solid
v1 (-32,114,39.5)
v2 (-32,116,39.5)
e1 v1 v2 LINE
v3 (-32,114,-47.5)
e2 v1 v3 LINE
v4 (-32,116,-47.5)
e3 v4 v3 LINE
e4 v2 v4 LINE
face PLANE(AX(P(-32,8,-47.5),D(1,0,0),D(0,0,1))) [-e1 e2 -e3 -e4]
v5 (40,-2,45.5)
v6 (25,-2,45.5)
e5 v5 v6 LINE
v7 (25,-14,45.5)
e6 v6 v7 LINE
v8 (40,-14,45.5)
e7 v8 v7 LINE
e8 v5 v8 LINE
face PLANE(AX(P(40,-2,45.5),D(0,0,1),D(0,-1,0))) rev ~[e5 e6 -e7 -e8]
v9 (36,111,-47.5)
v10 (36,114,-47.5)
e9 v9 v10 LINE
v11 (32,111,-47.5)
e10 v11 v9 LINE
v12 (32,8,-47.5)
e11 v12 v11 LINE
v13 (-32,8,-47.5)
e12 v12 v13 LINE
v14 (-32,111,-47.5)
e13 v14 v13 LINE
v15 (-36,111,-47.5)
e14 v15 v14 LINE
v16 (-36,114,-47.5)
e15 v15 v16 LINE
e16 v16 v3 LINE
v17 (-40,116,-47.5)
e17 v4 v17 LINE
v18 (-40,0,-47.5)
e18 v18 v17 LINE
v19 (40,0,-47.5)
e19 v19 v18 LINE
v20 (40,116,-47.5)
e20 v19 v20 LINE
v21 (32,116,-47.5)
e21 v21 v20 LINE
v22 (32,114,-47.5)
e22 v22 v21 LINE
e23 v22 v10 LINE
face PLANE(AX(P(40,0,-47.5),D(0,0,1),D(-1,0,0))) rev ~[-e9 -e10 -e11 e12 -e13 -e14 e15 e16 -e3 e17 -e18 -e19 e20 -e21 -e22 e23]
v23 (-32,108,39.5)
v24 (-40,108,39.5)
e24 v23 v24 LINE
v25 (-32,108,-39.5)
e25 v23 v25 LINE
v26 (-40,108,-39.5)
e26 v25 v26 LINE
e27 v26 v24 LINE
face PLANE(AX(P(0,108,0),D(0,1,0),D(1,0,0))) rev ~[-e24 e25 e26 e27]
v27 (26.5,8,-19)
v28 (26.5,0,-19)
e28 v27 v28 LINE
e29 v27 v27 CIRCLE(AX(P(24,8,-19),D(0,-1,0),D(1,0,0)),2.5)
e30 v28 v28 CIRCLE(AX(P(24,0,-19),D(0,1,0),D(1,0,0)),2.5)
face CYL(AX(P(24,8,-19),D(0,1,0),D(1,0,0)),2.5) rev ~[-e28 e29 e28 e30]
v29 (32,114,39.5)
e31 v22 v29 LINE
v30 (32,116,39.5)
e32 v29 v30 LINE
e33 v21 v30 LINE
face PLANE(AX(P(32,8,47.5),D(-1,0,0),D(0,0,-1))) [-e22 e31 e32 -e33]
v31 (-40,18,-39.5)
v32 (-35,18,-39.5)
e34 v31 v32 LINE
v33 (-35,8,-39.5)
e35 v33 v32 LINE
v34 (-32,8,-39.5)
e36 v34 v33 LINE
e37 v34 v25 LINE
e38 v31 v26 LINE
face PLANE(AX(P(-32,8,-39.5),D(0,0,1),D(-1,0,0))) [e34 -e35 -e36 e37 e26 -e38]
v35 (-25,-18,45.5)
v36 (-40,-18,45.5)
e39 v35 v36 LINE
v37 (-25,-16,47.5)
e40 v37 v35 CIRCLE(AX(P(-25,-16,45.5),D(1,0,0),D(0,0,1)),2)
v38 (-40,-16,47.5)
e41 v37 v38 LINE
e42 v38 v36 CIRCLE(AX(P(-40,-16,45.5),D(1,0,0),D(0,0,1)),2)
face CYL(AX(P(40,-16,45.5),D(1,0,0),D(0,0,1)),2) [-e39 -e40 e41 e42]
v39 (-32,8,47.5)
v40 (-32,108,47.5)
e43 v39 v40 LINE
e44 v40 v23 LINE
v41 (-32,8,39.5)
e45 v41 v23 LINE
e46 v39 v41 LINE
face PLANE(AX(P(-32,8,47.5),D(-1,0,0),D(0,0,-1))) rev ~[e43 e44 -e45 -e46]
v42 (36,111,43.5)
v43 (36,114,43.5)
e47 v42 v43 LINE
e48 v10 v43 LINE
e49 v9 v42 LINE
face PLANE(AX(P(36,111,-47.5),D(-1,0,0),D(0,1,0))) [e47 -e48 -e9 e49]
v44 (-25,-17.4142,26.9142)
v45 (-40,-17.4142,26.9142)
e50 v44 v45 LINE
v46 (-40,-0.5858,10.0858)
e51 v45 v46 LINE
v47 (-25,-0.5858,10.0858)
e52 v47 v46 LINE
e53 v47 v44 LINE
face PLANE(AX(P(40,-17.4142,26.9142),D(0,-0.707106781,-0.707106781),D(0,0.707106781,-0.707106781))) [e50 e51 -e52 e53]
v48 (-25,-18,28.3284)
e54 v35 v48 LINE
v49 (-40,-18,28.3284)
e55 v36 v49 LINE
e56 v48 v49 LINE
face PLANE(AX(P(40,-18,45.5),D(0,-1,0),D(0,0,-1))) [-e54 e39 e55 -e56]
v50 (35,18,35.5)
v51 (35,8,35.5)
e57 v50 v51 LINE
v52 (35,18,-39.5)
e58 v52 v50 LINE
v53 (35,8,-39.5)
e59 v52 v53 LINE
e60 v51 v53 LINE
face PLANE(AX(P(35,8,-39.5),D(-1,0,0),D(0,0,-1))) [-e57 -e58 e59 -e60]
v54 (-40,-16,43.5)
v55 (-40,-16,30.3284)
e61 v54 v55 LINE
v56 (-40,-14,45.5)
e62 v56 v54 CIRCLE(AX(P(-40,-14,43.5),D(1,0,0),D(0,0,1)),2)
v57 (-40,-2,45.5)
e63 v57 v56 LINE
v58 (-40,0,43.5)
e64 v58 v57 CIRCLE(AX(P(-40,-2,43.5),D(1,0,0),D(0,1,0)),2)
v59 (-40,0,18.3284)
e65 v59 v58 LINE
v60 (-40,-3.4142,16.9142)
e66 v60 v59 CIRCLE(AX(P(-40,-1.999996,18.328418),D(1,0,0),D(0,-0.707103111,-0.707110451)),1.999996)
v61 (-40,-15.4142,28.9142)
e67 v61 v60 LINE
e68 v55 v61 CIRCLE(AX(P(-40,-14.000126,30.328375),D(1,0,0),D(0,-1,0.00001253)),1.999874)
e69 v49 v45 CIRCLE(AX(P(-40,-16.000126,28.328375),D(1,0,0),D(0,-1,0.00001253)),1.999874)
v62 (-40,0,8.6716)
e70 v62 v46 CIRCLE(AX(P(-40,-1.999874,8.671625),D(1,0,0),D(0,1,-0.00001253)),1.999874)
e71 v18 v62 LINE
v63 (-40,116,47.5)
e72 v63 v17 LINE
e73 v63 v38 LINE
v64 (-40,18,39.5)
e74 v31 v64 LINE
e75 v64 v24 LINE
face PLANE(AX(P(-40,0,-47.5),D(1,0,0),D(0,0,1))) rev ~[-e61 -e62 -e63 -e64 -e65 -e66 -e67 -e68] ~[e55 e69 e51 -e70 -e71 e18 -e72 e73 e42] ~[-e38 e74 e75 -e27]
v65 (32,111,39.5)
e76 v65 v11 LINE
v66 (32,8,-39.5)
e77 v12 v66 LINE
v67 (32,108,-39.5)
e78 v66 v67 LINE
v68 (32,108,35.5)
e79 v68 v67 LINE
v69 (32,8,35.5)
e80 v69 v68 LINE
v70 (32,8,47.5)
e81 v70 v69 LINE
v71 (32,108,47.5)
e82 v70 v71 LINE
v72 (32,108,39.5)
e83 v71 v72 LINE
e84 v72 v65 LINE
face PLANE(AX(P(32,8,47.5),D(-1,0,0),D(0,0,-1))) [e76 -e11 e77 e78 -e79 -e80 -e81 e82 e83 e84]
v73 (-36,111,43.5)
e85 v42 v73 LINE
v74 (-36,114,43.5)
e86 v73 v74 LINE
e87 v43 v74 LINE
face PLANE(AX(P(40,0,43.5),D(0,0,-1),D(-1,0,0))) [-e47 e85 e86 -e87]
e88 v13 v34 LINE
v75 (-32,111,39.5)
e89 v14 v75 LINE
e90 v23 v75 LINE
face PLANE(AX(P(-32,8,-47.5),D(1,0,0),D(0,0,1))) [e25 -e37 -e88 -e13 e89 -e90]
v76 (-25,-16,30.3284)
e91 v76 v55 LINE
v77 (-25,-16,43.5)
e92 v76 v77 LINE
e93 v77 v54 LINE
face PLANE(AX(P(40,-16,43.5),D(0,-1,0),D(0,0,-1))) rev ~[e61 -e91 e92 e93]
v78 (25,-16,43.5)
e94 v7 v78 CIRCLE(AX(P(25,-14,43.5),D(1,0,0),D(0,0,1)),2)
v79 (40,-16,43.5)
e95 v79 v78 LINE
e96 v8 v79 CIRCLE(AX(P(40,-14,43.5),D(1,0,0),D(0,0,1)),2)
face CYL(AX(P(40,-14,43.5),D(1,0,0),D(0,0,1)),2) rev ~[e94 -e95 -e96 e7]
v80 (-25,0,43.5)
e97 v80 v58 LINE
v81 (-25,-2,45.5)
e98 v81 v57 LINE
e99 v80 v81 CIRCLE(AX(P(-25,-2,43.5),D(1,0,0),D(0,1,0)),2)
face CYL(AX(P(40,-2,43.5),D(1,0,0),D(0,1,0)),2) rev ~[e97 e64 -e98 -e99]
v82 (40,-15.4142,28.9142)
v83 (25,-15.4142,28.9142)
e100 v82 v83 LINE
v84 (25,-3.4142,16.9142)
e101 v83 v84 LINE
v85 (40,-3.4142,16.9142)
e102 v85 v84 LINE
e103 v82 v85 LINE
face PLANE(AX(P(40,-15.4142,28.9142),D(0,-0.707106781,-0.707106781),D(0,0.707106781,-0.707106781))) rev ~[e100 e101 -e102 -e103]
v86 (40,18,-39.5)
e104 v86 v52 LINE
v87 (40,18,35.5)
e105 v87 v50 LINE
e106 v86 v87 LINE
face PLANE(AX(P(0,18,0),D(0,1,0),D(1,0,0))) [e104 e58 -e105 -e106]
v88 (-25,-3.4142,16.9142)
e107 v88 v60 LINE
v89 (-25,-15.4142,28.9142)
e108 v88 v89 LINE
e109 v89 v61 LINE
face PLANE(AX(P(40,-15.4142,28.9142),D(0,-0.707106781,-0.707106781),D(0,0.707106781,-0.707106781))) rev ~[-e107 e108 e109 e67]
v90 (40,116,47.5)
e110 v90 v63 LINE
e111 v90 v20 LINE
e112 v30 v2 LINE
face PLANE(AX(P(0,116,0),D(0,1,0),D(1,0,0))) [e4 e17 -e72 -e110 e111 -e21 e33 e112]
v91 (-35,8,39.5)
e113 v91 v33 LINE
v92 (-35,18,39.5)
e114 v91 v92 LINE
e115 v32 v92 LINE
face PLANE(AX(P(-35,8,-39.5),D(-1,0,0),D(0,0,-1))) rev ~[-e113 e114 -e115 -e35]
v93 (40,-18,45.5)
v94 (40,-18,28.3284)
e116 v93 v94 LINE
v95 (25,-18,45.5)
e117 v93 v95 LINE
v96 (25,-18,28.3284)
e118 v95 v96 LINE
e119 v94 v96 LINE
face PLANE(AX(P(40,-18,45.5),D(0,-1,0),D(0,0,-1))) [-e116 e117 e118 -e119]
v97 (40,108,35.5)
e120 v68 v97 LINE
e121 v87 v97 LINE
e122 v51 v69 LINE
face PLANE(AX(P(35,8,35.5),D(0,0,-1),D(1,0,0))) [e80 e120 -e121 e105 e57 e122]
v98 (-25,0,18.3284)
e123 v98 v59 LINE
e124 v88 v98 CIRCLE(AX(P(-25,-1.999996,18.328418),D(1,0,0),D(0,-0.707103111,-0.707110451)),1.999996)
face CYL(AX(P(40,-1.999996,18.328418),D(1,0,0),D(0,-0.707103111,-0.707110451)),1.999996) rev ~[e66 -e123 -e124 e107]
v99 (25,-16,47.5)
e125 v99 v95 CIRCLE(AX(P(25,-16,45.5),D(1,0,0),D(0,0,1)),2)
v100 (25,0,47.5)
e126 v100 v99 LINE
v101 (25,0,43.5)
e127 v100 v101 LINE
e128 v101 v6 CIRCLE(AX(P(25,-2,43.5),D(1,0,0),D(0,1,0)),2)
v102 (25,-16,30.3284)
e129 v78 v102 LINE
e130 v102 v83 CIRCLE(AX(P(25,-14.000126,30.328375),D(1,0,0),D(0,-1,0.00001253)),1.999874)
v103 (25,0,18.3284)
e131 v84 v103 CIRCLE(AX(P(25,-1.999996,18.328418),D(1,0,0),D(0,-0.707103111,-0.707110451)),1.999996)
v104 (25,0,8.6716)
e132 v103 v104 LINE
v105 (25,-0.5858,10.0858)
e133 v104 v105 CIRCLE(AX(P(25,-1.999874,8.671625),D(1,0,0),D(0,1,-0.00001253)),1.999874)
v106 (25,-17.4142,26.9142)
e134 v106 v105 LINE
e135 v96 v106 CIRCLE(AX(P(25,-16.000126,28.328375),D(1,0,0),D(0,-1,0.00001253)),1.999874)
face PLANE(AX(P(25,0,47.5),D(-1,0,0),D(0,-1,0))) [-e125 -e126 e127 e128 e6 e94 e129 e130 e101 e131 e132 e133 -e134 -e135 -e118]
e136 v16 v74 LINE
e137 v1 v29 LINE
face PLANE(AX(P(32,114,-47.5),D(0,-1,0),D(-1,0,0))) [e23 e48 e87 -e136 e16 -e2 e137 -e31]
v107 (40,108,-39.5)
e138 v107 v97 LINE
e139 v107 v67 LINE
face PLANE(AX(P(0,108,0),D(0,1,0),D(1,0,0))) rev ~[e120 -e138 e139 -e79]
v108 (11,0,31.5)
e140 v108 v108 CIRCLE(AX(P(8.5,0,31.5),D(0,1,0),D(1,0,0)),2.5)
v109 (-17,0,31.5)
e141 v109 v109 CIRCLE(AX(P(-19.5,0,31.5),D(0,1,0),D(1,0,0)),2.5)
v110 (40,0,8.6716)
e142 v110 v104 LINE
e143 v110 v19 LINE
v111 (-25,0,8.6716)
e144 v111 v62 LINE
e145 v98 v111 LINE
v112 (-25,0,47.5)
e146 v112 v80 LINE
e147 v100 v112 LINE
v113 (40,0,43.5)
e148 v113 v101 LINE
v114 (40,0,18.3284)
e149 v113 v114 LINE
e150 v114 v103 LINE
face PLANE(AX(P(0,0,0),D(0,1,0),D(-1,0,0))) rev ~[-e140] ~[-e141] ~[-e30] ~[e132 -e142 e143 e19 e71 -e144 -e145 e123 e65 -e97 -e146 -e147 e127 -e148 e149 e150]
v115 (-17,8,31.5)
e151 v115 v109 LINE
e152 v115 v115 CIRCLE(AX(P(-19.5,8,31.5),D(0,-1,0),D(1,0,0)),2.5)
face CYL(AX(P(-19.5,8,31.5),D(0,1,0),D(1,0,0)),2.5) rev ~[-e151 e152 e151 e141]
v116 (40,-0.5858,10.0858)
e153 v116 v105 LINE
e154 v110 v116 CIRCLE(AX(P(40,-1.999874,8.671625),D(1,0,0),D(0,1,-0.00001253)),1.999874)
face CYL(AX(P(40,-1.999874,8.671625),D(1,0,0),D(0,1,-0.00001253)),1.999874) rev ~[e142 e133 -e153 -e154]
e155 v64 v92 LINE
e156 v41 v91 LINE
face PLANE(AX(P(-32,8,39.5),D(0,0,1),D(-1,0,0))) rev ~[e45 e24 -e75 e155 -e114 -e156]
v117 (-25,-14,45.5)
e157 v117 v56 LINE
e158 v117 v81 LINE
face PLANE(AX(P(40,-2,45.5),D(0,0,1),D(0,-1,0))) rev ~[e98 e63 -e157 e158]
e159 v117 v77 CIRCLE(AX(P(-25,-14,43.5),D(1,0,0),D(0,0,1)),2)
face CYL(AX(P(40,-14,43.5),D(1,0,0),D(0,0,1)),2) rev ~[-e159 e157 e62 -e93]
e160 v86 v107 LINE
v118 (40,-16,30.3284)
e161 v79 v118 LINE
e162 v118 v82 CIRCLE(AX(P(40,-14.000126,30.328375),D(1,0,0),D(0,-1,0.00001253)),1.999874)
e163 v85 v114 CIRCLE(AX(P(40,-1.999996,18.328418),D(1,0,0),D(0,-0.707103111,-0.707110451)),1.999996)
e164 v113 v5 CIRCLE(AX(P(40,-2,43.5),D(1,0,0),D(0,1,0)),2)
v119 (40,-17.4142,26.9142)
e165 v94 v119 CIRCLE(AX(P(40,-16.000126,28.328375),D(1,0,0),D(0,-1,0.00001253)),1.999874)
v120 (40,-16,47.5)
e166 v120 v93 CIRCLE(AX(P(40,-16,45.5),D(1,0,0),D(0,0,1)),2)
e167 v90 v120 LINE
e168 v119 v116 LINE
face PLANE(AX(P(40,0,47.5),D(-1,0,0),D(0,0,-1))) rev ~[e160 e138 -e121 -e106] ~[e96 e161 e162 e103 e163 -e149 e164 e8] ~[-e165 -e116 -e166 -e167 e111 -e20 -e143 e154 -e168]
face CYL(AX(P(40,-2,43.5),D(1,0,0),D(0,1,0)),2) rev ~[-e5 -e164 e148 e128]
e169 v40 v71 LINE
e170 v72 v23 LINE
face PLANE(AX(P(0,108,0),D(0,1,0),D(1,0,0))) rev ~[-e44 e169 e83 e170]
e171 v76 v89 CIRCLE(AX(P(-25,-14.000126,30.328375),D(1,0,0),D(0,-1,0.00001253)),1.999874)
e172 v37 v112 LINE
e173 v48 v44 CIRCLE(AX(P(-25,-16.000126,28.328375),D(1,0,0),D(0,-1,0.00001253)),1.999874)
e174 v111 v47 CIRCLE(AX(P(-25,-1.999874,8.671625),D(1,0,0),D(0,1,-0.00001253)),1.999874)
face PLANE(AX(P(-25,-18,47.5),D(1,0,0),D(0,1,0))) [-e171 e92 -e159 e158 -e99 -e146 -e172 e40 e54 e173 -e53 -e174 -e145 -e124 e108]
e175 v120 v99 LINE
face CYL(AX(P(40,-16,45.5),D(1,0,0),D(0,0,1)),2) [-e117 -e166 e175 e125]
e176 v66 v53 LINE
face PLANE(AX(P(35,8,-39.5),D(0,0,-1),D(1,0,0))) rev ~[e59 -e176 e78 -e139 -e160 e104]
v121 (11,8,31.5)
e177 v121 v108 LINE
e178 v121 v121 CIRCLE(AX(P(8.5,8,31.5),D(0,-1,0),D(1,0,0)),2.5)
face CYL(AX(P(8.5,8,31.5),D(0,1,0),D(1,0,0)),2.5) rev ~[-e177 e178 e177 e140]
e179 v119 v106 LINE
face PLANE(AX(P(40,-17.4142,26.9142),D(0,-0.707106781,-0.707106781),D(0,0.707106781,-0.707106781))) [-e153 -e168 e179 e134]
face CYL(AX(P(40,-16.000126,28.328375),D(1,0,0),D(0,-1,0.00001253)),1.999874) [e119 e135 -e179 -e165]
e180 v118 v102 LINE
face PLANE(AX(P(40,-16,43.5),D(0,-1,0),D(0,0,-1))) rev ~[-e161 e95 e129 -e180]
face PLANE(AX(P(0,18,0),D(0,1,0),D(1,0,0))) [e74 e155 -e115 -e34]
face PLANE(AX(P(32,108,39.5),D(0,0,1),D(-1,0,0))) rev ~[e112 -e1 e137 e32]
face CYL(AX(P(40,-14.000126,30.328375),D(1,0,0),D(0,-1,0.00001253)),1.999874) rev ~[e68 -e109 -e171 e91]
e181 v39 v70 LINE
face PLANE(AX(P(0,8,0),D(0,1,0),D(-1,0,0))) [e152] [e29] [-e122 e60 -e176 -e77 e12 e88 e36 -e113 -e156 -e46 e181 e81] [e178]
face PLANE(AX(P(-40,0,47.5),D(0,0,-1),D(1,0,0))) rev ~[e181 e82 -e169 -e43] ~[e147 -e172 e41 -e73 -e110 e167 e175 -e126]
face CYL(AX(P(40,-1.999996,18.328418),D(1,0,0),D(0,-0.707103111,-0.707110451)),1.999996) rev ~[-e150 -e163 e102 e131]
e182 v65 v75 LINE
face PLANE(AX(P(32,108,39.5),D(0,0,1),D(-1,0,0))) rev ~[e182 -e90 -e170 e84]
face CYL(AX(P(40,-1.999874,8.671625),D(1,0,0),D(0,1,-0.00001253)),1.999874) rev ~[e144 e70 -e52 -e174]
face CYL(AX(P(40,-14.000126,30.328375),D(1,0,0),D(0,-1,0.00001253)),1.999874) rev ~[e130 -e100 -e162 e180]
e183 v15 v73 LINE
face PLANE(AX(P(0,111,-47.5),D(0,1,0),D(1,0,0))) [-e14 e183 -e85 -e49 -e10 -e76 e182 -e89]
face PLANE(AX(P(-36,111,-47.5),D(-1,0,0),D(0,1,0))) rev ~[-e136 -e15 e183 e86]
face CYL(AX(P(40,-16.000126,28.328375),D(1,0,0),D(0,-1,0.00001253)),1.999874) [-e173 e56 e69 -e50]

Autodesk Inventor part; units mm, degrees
ref_plane "YZ Plane" through (0, 0, 0) normal (1, 0, 0) x (0, 1, 0)
ref_plane "XZ Plane" through (0, 0, 0) normal (0, 1, 0) x (-1, 0, 0)
ref_plane "XY Plane" through (0, 0, 0) normal (0, 0, 1) x (1, 0, 0)
sketch "Sketch1" plane through (0, 0, 0) normal (0, 1, 0) x (-1, 0, 0)
  line L0 (-40, -47.5) -> (40, -47.5)
  line L1 (40, -47.5) -> (40, 47.5)
  line L2 (40, 47.5) -> (-40, 47.5)
  line L3 (-40, 47.5) -> (-40, -47.5)
  line L4 (-40, -47.5) -> (40, 47.5) construction
  line L5 (40, -47.5) -> (-40, 47.5) construction
  point P0 (0, 0)
  dimension "d0" = 80
  dimension "d1" = 95
extrude "Extrusion1" add sketch "Sketch1" along normal blind 8
sketch "Sketch2" plane through (40, 0, 47.5) normal (1, 0, 0) x (0, 0, -1)
  line L0 (0, 0) -> (95, 0) projected
  line L1 (95, 0) -> (95, 8) projected
  line L2 (0, 8) -> (95, 8) projected
  line L3 (0, 0) -> (0, 8) projected
  line L4 (95, 0) -> (0, 0) projected
  line L5 (0, 0) -> (0, -16)
  line L6 (2, -18) -> (19.1716, -18)
  line L7 (2, -2) -> (2, -14)
  line L8 (4, -16) -> (17.1716, -16)
  line L9 (20.5858, -17.4142) -> (37.4142, -0.5858)
  line L10 (18.5858, -15.4142) -> (30.5858, -3.4142)
  arc A0 (2, -14) -> (4, -16) centre (4, -14) ccw
  arc A1 (0, -16) -> (2, -18) centre (2, -16) ccw
  arc A2 (19.1716, -18) -> (20.5858, -17.4142) centre (19.1716, -16) ccw
  arc A3 (17.1716, -16) -> (18.5858, -15.4142) centre (17.1716, -14) ccw
  line L11 (4, 0) -> (29.1716, 0)
  arc A4 (30.5858, -3.4142) -> (29.1716, 0) centre (29.1716, -2) ccw
  line L12 (38.8284, 0) -> (47.5, 0)
  arc A5 (38.8284, 0) -> (37.4142, -0.5858) centre (38.8284, -2) ccw
  arc A6 (4, 0) -> (2, -2) centre (4, -2) ccw
  point P0 (0, -18)
  point P1 (20, -18)
  point P2 (22, -16)
  point P3 (38, 0)
  point P4 (34, 0)
  point P5 (34, 0)
  dimension "d4" = 18
  dimension "d5" = 20
  dimension "d6" = 2
  dimension "d7" = 45
  dimension "d8" = 2
  dimension "d9" = 2
  dimension "d10" = 2
extrude "Extrusion2" add sketch "Sketch2" against normal up to surface (80 mm away) contours L0 A6 L7 A0 L8 A3 L10 A4 A5 L9 A2 L6 A1 L5
sketch "Sketch3" plane through (-40, 8, 47.5) normal (0, 0, 1) x (1, 0, 0)
  line L0 (80, 0) -> (0, 0) projected
  line L1 (0, 0) -> (15, 0)
  line L2 (80, 0) -> (65, 0)
  line L3 (80, -26) -> (0, -26) projected
  line L4 (15, 0) -> (65, 0)
  line L5 (65, 0) -> (65, -26)
  line L6 (65, -26) -> (15, -26)
  line L7 (15, -26) -> (15, 0)
  line L8 (15, 0) -> (65, 0)
  line L9 (65, 0) -> (65, -8)
  line L10 (65, -8) -> (15, -8)
  line L11 (15, -8) -> (15, 0)
  line L12 (80, -24) -> (80, 0) projected
  point P0 (40, -8)
  dimension "d13" = 15
  dimension "d15" = 50
  dimension "d16" = 8
  dimension "d41" = 15
extrude "Extrusion3" cut sketch "Sketch3" against normal blind 39 contours L5 L3 L7 L10
sketch "Sketch4" plane through (0, 8, 0) normal (0, 1, 0) x (1, 0, 0)
  line L0 (40, 47.5) -> (-40, 47.5) projected
  line L1 (-40, 47.5) -> (-40, -47.5) projected
  line L2 (-40, -47.5) -> (40, -47.5) projected
  line L3 (40, -47.5) -> (40, 47.5) projected
  line L4 (40, 47.5) -> (-40, 47.5) projected
  line L5 (-40, -47.5) -> (-35, -47.5)
  line L6 (-35, -47.5) -> (-35, 47.5)
  line L7 (-35, 47.5) -> (-40, 47.5)
  line L8 (-40, 47.5) -> (-40, -47.5)
  line L9 (40, -47.5) -> (35, -47.5)
  line L10 (35, -47.5) -> (35, 47.5)
  line L11 (35, 47.5) -> (40, 47.5)
  line L12 (40, 47.5) -> (40, -47.5)
  line L13 (40, -47.5) -> (32, -47.5)
  line L14 (32, -47.5) -> (32, -39.5)
  line L15 (32, -39.5) -> (40, -39.5)
  line L16 (40, -39.5) -> (40, -47.5)
  line L17 (-40, -47.5) -> (-32, -47.5)
  line L18 (-32, -47.5) -> (-32, -39.5)
  line L19 (-32, -39.5) -> (-40, -39.5)
  line L20 (-40, -39.5) -> (-40, -47.5)
  line L21 (-40, 47.5) -> (-40, -47.5) projected
  line L22 (-40, 47.5) -> (-32, 47.5)
  line L23 (-32, 47.5) -> (-32, 39.5)
  line L24 (-32, 39.5) -> (-40, 39.5)
  line L25 (-40, 39.5) -> (-40, 47.5)
  line L26 (40, 47.5) -> (32, 47.5)
  line L27 (32, 47.5) -> (32, 39.5)
  line L28 (32, 39.5) -> (40, 39.5)
  line L29 (40, 39.5) -> (40, 47.5)
  point P0 (0, 0)
  dimension "d19" = 5
  dimension "d20" = 5
  dimension "d21" = 8
  dimension "d22" = 8
  dimension "d23" = 8
  dimension "d24" = 8
  dimension "d25" = 8
  dimension "d26" = 8
  dimension "d27" = 8
  dimension "d28" = 8
extrude "Extrusion4" add sketch "Sketch4" along normal blind 10 contours L3 L28 L10 L0 | L3 L15 L10 L28 | L3 L2 L10 L15 | L6 L24 L1 L0 | L6 L19 L1 L24 | L6 L2 L1 L19
sketch "Sketch6" plane through (0, 8, 0) normal (0, 1, 0) x (1, 0, 0)
  line L0 (40, 47.5) -> (-40, 47.5) projected
  line L1 (-40, 47.5) -> (-32, 47.5)
  line L2 (-32, 47.5) -> (-32, 39.5)
  line L3 (-32, 39.5) -> (-40, 39.5)
  line L4 (-40, 39.5) -> (-40, 47.5)
  line L5 (40, 47.5) -> (32, 47.5)
  line L6 (32, 47.5) -> (32, 39.5)
  line L7 (32, 39.5) -> (40, 39.5)
  line L8 (40, 39.5) -> (40, 47.5)
  line L9 (-25, -47.5) -> (-40, -47.5) projected
  line L10 (-40, -47.5) -> (-32, -47.5)
  line L11 (-32, -47.5) -> (-32, -39.5)
  line L12 (-32, -39.5) -> (-40, -39.5)
  line L13 (-40, -39.5) -> (-40, -47.5)
  line L14 (40, -43.5) -> (40, -18.3284) projected
  line L15 (-35, -47.5) -> (35, -47.5) projected
  line L16 (40, -40.5) -> (48.82, -40.5) construction
  line L17 (40, -47.5) -> (32, -47.5)
  line L18 (32, -47.5) -> (32, -35.5)
  line L19 (32, -35.5) -> (40, -35.5)
  line L20 (40, -35.5) -> (40, -47.5)
  line L21 (35, -47.5) -> (35, 47.5) projected
  line L22 (35, -47.5) -> (40, -38.8397)
  line L23 (40, -30.3284) -> (40, -43.5) projected
  line L24 (35, -47.5) -> (45, -47.5) construction
  point P0 (0, 0)
  dimension "d42" = 8
  dimension "d43" = 8
  dimension "d44" = 8
  dimension "d45" = 8
  dimension "d46" = 8
  dimension "d47" = 8
  dimension "d81" = 8
  dimension "d82" = 12
  dimension "d83" = 60
extrude "Extrusion5" add sketch "Sketch6" along normal blind 100
sketch "Sketch7" plane through (0, 108, 0) normal (0, 1, 0) x (1, 0, 0)
  line L0 (-40, -47.5) -> (-40, -45.5) projected
  line L1 (-32, 47.5) -> (-40, 47.5) projected
  line L2 (-40, -47.5) -> (-32, -47.5)
  line L3 (-32, -47.5) -> (-32, 47.5)
  line L4 (-32, 47.5) -> (-40, 47.5)
  line L5 (-40, 47.5) -> (-40, -47.5)
  line L6 (35, -39.5) -> (40, -39.5) projected
  line L7 (-40, -47.5) -> (40, -47.5)
  line L8 (40, -47.5) -> (40, -39.5)
  line L9 (40, -39.5) -> (-40, -39.5)
  line L10 (-40, -39.5) -> (-40, -47.5)
  line L11 (32, 39.5) -> (32, 47.5) projected
  line L12 (32, 47.5) -> (40, 47.5)
  line L13 (40, 47.5) -> (40, -47.5)
  line L14 (40, -47.5) -> (32, -47.5)
  line L15 (32, -47.5) -> (32, 47.5)
  point P0 (0, 0)
extrude "Extrusion6" add sketch "Sketch7" along normal blind 8
sketch "Sketch8" plane through (40, 0, -47.5) normal (0, 0, -1) x (-1, 0, 0)
  line L0 (8, 8) -> (72, 8) projected
  line L1 (8, 8) -> (8, 116) projected
  line L2 (0, 116) -> (8, 116) projected
  line L3 (0, 0) -> (0, 116) projected
  line L4 (0, 0) -> (80, 0) projected
  line L5 (80, 0) -> (80, 116) projected
  line L6 (72, 116) -> (80, 116) projected
  line L7 (72, 8) -> (72, 116) projected
  line L8 (0, 116) -> (8, 116) projected
  line L9 (8, 8) -> (8, 108) projected
  line L10 (0, 116) -> (8, 116)
  line L11 (8, 108) -> (0, 108)
  line L12 (0, 108) -> (0, 116)
  line L13 (0, 108) -> (8, 108) projected
  line L14 (8, 108) -> (8, 111)
  line L15 (8, 8) -> (8, 116) projected
  line L16 (8, 111) -> (4, 111)
  line L17 (4, 111) -> (4, 114)
  line L18 (4, 114) -> (8, 114)
  line L19 (80, 116) -> (0, 116) projected
  line L20 (40, 116) -> (40, 8)
  line L21 (72, 8) -> (8, 8) projected
  line L22 (80, 116) -> (72, 116)
  line L23 (80, 116) -> (72, 116)
  line L24 (80, 116) -> (72, 116)
  line L25 (72, 108) -> (80, 108)
  line L26 (80, 108) -> (80, 116)
  line L27 (80, 108) -> (72, 108)
  line L28 (72, 108) -> (72, 111)
  line L29 (72, 111) -> (76, 111)
  line L30 (76, 111) -> (76, 114)
  line L31 (76, 114) -> (72, 114)
  line L32 (8, 114) -> (72, 114)
  line L33 (72, 111) -> (8, 111)
  line L34 (72, 114) -> (76, 114)
  line L35 (76, 114) -> (76, 111)
  line L36 (76, 111) -> (72, 111)
  line L37 (72, 116) -> (72, 114)
  line L38 (72, 111) -> (72, 108)
  line L39 (8, 116) -> (8, 114)
  line L40 (8, 111) -> (8, 108)
  line L41 (4, 114) -> (8, 114)
  line L42 (4, 111) -> (8, 111)
  line L43 (4, 114) -> (76, 114)
  line L44 (76, 114) -> (76, 111)
  line L45 (76, 111) -> (4, 111)
  line L46 (4, 111) -> (4, 114)
  point P0 (40, 0)
  dimension "d52" = 3
  dimension "d53" = 4
  dimension "d54" = 3
extrude "Extrusion7" cut sketch "Sketch8" against normal blind 91 contours L33 L1 L32 L20 | L20 L32 L7 L33 | L16 L17 L18 L1 | L7 L31 L30 L29
sketch "Sketch9" plane through (0, 8, 0) normal (0, 1, 0) x (1, 0, 0)
  line L0 (0, -31.5) -> (8.5, -31.5)
  circle A0 centre (8.5, -31.5) radius 2.5
  circle A1 centre (-19.5, -31.5) radius 2.5
  circle A2 centre (-19.5, -31.5) radius 2.5
  line L1 (0, -31.5) -> (-19.5, -31.5)
  line L2 (0, 0) -> (0, -31.5)
  line L3 (0, 0) -> (0, 17.5)
  line L4 (0, 17.5) -> (0, 19)
  line L5 (0, 19) -> (24, 19)
  circle A3 centre (24, 19) radius 2.5
  line L6 (0, 0) -> (2.25, 0)
  line L7 (-27.5, 38.25) -> (28.5, 38.25)
  line L8 (28.5, 38.25) -> (28.5, -36.75)
  line L9 (28.5, -36.75) -> (-27.5, -36.75)
  line L10 (-27.5, -36.75) -> (-27.5, 38.25)
  line L11 (-27.5, 38.25) -> (28.5, -36.75) construction
  line L12 (28.5, 38.25) -> (-27.5, -36.75) construction
  line L13 (-19.5, -31.5) -> (-19.5, -36.75)
  line L14 (25.5, 17) -> (28.5, 17)
  line L15 (28.5, 17) -> (28.5, -36.75)
  point P0 (0.5, 0.75)
  dimension "d63" = 5
  dimension "d61" = 5
  dimension "d62" = 5
  dimension "d64" = 17.5
  dimension "d65" = 8.5
  dimension "d66" = 19.5
  dimension "d67" = 31.5
  dimension "d68" = 24
  dimension "d69" = 43.5
  dimension "d70" = 2.25
  dimension "d71" = 56
  dimension "d72" = 75
  dimension "d73" = 5.25
  dimension "d74" = 3
extrude "Extrusion8" cut sketch "Sketch9" against normal blind 10 contours A0 | L1 L13 A1 | A1 L13 L1 | A3
properties part number "Base"
